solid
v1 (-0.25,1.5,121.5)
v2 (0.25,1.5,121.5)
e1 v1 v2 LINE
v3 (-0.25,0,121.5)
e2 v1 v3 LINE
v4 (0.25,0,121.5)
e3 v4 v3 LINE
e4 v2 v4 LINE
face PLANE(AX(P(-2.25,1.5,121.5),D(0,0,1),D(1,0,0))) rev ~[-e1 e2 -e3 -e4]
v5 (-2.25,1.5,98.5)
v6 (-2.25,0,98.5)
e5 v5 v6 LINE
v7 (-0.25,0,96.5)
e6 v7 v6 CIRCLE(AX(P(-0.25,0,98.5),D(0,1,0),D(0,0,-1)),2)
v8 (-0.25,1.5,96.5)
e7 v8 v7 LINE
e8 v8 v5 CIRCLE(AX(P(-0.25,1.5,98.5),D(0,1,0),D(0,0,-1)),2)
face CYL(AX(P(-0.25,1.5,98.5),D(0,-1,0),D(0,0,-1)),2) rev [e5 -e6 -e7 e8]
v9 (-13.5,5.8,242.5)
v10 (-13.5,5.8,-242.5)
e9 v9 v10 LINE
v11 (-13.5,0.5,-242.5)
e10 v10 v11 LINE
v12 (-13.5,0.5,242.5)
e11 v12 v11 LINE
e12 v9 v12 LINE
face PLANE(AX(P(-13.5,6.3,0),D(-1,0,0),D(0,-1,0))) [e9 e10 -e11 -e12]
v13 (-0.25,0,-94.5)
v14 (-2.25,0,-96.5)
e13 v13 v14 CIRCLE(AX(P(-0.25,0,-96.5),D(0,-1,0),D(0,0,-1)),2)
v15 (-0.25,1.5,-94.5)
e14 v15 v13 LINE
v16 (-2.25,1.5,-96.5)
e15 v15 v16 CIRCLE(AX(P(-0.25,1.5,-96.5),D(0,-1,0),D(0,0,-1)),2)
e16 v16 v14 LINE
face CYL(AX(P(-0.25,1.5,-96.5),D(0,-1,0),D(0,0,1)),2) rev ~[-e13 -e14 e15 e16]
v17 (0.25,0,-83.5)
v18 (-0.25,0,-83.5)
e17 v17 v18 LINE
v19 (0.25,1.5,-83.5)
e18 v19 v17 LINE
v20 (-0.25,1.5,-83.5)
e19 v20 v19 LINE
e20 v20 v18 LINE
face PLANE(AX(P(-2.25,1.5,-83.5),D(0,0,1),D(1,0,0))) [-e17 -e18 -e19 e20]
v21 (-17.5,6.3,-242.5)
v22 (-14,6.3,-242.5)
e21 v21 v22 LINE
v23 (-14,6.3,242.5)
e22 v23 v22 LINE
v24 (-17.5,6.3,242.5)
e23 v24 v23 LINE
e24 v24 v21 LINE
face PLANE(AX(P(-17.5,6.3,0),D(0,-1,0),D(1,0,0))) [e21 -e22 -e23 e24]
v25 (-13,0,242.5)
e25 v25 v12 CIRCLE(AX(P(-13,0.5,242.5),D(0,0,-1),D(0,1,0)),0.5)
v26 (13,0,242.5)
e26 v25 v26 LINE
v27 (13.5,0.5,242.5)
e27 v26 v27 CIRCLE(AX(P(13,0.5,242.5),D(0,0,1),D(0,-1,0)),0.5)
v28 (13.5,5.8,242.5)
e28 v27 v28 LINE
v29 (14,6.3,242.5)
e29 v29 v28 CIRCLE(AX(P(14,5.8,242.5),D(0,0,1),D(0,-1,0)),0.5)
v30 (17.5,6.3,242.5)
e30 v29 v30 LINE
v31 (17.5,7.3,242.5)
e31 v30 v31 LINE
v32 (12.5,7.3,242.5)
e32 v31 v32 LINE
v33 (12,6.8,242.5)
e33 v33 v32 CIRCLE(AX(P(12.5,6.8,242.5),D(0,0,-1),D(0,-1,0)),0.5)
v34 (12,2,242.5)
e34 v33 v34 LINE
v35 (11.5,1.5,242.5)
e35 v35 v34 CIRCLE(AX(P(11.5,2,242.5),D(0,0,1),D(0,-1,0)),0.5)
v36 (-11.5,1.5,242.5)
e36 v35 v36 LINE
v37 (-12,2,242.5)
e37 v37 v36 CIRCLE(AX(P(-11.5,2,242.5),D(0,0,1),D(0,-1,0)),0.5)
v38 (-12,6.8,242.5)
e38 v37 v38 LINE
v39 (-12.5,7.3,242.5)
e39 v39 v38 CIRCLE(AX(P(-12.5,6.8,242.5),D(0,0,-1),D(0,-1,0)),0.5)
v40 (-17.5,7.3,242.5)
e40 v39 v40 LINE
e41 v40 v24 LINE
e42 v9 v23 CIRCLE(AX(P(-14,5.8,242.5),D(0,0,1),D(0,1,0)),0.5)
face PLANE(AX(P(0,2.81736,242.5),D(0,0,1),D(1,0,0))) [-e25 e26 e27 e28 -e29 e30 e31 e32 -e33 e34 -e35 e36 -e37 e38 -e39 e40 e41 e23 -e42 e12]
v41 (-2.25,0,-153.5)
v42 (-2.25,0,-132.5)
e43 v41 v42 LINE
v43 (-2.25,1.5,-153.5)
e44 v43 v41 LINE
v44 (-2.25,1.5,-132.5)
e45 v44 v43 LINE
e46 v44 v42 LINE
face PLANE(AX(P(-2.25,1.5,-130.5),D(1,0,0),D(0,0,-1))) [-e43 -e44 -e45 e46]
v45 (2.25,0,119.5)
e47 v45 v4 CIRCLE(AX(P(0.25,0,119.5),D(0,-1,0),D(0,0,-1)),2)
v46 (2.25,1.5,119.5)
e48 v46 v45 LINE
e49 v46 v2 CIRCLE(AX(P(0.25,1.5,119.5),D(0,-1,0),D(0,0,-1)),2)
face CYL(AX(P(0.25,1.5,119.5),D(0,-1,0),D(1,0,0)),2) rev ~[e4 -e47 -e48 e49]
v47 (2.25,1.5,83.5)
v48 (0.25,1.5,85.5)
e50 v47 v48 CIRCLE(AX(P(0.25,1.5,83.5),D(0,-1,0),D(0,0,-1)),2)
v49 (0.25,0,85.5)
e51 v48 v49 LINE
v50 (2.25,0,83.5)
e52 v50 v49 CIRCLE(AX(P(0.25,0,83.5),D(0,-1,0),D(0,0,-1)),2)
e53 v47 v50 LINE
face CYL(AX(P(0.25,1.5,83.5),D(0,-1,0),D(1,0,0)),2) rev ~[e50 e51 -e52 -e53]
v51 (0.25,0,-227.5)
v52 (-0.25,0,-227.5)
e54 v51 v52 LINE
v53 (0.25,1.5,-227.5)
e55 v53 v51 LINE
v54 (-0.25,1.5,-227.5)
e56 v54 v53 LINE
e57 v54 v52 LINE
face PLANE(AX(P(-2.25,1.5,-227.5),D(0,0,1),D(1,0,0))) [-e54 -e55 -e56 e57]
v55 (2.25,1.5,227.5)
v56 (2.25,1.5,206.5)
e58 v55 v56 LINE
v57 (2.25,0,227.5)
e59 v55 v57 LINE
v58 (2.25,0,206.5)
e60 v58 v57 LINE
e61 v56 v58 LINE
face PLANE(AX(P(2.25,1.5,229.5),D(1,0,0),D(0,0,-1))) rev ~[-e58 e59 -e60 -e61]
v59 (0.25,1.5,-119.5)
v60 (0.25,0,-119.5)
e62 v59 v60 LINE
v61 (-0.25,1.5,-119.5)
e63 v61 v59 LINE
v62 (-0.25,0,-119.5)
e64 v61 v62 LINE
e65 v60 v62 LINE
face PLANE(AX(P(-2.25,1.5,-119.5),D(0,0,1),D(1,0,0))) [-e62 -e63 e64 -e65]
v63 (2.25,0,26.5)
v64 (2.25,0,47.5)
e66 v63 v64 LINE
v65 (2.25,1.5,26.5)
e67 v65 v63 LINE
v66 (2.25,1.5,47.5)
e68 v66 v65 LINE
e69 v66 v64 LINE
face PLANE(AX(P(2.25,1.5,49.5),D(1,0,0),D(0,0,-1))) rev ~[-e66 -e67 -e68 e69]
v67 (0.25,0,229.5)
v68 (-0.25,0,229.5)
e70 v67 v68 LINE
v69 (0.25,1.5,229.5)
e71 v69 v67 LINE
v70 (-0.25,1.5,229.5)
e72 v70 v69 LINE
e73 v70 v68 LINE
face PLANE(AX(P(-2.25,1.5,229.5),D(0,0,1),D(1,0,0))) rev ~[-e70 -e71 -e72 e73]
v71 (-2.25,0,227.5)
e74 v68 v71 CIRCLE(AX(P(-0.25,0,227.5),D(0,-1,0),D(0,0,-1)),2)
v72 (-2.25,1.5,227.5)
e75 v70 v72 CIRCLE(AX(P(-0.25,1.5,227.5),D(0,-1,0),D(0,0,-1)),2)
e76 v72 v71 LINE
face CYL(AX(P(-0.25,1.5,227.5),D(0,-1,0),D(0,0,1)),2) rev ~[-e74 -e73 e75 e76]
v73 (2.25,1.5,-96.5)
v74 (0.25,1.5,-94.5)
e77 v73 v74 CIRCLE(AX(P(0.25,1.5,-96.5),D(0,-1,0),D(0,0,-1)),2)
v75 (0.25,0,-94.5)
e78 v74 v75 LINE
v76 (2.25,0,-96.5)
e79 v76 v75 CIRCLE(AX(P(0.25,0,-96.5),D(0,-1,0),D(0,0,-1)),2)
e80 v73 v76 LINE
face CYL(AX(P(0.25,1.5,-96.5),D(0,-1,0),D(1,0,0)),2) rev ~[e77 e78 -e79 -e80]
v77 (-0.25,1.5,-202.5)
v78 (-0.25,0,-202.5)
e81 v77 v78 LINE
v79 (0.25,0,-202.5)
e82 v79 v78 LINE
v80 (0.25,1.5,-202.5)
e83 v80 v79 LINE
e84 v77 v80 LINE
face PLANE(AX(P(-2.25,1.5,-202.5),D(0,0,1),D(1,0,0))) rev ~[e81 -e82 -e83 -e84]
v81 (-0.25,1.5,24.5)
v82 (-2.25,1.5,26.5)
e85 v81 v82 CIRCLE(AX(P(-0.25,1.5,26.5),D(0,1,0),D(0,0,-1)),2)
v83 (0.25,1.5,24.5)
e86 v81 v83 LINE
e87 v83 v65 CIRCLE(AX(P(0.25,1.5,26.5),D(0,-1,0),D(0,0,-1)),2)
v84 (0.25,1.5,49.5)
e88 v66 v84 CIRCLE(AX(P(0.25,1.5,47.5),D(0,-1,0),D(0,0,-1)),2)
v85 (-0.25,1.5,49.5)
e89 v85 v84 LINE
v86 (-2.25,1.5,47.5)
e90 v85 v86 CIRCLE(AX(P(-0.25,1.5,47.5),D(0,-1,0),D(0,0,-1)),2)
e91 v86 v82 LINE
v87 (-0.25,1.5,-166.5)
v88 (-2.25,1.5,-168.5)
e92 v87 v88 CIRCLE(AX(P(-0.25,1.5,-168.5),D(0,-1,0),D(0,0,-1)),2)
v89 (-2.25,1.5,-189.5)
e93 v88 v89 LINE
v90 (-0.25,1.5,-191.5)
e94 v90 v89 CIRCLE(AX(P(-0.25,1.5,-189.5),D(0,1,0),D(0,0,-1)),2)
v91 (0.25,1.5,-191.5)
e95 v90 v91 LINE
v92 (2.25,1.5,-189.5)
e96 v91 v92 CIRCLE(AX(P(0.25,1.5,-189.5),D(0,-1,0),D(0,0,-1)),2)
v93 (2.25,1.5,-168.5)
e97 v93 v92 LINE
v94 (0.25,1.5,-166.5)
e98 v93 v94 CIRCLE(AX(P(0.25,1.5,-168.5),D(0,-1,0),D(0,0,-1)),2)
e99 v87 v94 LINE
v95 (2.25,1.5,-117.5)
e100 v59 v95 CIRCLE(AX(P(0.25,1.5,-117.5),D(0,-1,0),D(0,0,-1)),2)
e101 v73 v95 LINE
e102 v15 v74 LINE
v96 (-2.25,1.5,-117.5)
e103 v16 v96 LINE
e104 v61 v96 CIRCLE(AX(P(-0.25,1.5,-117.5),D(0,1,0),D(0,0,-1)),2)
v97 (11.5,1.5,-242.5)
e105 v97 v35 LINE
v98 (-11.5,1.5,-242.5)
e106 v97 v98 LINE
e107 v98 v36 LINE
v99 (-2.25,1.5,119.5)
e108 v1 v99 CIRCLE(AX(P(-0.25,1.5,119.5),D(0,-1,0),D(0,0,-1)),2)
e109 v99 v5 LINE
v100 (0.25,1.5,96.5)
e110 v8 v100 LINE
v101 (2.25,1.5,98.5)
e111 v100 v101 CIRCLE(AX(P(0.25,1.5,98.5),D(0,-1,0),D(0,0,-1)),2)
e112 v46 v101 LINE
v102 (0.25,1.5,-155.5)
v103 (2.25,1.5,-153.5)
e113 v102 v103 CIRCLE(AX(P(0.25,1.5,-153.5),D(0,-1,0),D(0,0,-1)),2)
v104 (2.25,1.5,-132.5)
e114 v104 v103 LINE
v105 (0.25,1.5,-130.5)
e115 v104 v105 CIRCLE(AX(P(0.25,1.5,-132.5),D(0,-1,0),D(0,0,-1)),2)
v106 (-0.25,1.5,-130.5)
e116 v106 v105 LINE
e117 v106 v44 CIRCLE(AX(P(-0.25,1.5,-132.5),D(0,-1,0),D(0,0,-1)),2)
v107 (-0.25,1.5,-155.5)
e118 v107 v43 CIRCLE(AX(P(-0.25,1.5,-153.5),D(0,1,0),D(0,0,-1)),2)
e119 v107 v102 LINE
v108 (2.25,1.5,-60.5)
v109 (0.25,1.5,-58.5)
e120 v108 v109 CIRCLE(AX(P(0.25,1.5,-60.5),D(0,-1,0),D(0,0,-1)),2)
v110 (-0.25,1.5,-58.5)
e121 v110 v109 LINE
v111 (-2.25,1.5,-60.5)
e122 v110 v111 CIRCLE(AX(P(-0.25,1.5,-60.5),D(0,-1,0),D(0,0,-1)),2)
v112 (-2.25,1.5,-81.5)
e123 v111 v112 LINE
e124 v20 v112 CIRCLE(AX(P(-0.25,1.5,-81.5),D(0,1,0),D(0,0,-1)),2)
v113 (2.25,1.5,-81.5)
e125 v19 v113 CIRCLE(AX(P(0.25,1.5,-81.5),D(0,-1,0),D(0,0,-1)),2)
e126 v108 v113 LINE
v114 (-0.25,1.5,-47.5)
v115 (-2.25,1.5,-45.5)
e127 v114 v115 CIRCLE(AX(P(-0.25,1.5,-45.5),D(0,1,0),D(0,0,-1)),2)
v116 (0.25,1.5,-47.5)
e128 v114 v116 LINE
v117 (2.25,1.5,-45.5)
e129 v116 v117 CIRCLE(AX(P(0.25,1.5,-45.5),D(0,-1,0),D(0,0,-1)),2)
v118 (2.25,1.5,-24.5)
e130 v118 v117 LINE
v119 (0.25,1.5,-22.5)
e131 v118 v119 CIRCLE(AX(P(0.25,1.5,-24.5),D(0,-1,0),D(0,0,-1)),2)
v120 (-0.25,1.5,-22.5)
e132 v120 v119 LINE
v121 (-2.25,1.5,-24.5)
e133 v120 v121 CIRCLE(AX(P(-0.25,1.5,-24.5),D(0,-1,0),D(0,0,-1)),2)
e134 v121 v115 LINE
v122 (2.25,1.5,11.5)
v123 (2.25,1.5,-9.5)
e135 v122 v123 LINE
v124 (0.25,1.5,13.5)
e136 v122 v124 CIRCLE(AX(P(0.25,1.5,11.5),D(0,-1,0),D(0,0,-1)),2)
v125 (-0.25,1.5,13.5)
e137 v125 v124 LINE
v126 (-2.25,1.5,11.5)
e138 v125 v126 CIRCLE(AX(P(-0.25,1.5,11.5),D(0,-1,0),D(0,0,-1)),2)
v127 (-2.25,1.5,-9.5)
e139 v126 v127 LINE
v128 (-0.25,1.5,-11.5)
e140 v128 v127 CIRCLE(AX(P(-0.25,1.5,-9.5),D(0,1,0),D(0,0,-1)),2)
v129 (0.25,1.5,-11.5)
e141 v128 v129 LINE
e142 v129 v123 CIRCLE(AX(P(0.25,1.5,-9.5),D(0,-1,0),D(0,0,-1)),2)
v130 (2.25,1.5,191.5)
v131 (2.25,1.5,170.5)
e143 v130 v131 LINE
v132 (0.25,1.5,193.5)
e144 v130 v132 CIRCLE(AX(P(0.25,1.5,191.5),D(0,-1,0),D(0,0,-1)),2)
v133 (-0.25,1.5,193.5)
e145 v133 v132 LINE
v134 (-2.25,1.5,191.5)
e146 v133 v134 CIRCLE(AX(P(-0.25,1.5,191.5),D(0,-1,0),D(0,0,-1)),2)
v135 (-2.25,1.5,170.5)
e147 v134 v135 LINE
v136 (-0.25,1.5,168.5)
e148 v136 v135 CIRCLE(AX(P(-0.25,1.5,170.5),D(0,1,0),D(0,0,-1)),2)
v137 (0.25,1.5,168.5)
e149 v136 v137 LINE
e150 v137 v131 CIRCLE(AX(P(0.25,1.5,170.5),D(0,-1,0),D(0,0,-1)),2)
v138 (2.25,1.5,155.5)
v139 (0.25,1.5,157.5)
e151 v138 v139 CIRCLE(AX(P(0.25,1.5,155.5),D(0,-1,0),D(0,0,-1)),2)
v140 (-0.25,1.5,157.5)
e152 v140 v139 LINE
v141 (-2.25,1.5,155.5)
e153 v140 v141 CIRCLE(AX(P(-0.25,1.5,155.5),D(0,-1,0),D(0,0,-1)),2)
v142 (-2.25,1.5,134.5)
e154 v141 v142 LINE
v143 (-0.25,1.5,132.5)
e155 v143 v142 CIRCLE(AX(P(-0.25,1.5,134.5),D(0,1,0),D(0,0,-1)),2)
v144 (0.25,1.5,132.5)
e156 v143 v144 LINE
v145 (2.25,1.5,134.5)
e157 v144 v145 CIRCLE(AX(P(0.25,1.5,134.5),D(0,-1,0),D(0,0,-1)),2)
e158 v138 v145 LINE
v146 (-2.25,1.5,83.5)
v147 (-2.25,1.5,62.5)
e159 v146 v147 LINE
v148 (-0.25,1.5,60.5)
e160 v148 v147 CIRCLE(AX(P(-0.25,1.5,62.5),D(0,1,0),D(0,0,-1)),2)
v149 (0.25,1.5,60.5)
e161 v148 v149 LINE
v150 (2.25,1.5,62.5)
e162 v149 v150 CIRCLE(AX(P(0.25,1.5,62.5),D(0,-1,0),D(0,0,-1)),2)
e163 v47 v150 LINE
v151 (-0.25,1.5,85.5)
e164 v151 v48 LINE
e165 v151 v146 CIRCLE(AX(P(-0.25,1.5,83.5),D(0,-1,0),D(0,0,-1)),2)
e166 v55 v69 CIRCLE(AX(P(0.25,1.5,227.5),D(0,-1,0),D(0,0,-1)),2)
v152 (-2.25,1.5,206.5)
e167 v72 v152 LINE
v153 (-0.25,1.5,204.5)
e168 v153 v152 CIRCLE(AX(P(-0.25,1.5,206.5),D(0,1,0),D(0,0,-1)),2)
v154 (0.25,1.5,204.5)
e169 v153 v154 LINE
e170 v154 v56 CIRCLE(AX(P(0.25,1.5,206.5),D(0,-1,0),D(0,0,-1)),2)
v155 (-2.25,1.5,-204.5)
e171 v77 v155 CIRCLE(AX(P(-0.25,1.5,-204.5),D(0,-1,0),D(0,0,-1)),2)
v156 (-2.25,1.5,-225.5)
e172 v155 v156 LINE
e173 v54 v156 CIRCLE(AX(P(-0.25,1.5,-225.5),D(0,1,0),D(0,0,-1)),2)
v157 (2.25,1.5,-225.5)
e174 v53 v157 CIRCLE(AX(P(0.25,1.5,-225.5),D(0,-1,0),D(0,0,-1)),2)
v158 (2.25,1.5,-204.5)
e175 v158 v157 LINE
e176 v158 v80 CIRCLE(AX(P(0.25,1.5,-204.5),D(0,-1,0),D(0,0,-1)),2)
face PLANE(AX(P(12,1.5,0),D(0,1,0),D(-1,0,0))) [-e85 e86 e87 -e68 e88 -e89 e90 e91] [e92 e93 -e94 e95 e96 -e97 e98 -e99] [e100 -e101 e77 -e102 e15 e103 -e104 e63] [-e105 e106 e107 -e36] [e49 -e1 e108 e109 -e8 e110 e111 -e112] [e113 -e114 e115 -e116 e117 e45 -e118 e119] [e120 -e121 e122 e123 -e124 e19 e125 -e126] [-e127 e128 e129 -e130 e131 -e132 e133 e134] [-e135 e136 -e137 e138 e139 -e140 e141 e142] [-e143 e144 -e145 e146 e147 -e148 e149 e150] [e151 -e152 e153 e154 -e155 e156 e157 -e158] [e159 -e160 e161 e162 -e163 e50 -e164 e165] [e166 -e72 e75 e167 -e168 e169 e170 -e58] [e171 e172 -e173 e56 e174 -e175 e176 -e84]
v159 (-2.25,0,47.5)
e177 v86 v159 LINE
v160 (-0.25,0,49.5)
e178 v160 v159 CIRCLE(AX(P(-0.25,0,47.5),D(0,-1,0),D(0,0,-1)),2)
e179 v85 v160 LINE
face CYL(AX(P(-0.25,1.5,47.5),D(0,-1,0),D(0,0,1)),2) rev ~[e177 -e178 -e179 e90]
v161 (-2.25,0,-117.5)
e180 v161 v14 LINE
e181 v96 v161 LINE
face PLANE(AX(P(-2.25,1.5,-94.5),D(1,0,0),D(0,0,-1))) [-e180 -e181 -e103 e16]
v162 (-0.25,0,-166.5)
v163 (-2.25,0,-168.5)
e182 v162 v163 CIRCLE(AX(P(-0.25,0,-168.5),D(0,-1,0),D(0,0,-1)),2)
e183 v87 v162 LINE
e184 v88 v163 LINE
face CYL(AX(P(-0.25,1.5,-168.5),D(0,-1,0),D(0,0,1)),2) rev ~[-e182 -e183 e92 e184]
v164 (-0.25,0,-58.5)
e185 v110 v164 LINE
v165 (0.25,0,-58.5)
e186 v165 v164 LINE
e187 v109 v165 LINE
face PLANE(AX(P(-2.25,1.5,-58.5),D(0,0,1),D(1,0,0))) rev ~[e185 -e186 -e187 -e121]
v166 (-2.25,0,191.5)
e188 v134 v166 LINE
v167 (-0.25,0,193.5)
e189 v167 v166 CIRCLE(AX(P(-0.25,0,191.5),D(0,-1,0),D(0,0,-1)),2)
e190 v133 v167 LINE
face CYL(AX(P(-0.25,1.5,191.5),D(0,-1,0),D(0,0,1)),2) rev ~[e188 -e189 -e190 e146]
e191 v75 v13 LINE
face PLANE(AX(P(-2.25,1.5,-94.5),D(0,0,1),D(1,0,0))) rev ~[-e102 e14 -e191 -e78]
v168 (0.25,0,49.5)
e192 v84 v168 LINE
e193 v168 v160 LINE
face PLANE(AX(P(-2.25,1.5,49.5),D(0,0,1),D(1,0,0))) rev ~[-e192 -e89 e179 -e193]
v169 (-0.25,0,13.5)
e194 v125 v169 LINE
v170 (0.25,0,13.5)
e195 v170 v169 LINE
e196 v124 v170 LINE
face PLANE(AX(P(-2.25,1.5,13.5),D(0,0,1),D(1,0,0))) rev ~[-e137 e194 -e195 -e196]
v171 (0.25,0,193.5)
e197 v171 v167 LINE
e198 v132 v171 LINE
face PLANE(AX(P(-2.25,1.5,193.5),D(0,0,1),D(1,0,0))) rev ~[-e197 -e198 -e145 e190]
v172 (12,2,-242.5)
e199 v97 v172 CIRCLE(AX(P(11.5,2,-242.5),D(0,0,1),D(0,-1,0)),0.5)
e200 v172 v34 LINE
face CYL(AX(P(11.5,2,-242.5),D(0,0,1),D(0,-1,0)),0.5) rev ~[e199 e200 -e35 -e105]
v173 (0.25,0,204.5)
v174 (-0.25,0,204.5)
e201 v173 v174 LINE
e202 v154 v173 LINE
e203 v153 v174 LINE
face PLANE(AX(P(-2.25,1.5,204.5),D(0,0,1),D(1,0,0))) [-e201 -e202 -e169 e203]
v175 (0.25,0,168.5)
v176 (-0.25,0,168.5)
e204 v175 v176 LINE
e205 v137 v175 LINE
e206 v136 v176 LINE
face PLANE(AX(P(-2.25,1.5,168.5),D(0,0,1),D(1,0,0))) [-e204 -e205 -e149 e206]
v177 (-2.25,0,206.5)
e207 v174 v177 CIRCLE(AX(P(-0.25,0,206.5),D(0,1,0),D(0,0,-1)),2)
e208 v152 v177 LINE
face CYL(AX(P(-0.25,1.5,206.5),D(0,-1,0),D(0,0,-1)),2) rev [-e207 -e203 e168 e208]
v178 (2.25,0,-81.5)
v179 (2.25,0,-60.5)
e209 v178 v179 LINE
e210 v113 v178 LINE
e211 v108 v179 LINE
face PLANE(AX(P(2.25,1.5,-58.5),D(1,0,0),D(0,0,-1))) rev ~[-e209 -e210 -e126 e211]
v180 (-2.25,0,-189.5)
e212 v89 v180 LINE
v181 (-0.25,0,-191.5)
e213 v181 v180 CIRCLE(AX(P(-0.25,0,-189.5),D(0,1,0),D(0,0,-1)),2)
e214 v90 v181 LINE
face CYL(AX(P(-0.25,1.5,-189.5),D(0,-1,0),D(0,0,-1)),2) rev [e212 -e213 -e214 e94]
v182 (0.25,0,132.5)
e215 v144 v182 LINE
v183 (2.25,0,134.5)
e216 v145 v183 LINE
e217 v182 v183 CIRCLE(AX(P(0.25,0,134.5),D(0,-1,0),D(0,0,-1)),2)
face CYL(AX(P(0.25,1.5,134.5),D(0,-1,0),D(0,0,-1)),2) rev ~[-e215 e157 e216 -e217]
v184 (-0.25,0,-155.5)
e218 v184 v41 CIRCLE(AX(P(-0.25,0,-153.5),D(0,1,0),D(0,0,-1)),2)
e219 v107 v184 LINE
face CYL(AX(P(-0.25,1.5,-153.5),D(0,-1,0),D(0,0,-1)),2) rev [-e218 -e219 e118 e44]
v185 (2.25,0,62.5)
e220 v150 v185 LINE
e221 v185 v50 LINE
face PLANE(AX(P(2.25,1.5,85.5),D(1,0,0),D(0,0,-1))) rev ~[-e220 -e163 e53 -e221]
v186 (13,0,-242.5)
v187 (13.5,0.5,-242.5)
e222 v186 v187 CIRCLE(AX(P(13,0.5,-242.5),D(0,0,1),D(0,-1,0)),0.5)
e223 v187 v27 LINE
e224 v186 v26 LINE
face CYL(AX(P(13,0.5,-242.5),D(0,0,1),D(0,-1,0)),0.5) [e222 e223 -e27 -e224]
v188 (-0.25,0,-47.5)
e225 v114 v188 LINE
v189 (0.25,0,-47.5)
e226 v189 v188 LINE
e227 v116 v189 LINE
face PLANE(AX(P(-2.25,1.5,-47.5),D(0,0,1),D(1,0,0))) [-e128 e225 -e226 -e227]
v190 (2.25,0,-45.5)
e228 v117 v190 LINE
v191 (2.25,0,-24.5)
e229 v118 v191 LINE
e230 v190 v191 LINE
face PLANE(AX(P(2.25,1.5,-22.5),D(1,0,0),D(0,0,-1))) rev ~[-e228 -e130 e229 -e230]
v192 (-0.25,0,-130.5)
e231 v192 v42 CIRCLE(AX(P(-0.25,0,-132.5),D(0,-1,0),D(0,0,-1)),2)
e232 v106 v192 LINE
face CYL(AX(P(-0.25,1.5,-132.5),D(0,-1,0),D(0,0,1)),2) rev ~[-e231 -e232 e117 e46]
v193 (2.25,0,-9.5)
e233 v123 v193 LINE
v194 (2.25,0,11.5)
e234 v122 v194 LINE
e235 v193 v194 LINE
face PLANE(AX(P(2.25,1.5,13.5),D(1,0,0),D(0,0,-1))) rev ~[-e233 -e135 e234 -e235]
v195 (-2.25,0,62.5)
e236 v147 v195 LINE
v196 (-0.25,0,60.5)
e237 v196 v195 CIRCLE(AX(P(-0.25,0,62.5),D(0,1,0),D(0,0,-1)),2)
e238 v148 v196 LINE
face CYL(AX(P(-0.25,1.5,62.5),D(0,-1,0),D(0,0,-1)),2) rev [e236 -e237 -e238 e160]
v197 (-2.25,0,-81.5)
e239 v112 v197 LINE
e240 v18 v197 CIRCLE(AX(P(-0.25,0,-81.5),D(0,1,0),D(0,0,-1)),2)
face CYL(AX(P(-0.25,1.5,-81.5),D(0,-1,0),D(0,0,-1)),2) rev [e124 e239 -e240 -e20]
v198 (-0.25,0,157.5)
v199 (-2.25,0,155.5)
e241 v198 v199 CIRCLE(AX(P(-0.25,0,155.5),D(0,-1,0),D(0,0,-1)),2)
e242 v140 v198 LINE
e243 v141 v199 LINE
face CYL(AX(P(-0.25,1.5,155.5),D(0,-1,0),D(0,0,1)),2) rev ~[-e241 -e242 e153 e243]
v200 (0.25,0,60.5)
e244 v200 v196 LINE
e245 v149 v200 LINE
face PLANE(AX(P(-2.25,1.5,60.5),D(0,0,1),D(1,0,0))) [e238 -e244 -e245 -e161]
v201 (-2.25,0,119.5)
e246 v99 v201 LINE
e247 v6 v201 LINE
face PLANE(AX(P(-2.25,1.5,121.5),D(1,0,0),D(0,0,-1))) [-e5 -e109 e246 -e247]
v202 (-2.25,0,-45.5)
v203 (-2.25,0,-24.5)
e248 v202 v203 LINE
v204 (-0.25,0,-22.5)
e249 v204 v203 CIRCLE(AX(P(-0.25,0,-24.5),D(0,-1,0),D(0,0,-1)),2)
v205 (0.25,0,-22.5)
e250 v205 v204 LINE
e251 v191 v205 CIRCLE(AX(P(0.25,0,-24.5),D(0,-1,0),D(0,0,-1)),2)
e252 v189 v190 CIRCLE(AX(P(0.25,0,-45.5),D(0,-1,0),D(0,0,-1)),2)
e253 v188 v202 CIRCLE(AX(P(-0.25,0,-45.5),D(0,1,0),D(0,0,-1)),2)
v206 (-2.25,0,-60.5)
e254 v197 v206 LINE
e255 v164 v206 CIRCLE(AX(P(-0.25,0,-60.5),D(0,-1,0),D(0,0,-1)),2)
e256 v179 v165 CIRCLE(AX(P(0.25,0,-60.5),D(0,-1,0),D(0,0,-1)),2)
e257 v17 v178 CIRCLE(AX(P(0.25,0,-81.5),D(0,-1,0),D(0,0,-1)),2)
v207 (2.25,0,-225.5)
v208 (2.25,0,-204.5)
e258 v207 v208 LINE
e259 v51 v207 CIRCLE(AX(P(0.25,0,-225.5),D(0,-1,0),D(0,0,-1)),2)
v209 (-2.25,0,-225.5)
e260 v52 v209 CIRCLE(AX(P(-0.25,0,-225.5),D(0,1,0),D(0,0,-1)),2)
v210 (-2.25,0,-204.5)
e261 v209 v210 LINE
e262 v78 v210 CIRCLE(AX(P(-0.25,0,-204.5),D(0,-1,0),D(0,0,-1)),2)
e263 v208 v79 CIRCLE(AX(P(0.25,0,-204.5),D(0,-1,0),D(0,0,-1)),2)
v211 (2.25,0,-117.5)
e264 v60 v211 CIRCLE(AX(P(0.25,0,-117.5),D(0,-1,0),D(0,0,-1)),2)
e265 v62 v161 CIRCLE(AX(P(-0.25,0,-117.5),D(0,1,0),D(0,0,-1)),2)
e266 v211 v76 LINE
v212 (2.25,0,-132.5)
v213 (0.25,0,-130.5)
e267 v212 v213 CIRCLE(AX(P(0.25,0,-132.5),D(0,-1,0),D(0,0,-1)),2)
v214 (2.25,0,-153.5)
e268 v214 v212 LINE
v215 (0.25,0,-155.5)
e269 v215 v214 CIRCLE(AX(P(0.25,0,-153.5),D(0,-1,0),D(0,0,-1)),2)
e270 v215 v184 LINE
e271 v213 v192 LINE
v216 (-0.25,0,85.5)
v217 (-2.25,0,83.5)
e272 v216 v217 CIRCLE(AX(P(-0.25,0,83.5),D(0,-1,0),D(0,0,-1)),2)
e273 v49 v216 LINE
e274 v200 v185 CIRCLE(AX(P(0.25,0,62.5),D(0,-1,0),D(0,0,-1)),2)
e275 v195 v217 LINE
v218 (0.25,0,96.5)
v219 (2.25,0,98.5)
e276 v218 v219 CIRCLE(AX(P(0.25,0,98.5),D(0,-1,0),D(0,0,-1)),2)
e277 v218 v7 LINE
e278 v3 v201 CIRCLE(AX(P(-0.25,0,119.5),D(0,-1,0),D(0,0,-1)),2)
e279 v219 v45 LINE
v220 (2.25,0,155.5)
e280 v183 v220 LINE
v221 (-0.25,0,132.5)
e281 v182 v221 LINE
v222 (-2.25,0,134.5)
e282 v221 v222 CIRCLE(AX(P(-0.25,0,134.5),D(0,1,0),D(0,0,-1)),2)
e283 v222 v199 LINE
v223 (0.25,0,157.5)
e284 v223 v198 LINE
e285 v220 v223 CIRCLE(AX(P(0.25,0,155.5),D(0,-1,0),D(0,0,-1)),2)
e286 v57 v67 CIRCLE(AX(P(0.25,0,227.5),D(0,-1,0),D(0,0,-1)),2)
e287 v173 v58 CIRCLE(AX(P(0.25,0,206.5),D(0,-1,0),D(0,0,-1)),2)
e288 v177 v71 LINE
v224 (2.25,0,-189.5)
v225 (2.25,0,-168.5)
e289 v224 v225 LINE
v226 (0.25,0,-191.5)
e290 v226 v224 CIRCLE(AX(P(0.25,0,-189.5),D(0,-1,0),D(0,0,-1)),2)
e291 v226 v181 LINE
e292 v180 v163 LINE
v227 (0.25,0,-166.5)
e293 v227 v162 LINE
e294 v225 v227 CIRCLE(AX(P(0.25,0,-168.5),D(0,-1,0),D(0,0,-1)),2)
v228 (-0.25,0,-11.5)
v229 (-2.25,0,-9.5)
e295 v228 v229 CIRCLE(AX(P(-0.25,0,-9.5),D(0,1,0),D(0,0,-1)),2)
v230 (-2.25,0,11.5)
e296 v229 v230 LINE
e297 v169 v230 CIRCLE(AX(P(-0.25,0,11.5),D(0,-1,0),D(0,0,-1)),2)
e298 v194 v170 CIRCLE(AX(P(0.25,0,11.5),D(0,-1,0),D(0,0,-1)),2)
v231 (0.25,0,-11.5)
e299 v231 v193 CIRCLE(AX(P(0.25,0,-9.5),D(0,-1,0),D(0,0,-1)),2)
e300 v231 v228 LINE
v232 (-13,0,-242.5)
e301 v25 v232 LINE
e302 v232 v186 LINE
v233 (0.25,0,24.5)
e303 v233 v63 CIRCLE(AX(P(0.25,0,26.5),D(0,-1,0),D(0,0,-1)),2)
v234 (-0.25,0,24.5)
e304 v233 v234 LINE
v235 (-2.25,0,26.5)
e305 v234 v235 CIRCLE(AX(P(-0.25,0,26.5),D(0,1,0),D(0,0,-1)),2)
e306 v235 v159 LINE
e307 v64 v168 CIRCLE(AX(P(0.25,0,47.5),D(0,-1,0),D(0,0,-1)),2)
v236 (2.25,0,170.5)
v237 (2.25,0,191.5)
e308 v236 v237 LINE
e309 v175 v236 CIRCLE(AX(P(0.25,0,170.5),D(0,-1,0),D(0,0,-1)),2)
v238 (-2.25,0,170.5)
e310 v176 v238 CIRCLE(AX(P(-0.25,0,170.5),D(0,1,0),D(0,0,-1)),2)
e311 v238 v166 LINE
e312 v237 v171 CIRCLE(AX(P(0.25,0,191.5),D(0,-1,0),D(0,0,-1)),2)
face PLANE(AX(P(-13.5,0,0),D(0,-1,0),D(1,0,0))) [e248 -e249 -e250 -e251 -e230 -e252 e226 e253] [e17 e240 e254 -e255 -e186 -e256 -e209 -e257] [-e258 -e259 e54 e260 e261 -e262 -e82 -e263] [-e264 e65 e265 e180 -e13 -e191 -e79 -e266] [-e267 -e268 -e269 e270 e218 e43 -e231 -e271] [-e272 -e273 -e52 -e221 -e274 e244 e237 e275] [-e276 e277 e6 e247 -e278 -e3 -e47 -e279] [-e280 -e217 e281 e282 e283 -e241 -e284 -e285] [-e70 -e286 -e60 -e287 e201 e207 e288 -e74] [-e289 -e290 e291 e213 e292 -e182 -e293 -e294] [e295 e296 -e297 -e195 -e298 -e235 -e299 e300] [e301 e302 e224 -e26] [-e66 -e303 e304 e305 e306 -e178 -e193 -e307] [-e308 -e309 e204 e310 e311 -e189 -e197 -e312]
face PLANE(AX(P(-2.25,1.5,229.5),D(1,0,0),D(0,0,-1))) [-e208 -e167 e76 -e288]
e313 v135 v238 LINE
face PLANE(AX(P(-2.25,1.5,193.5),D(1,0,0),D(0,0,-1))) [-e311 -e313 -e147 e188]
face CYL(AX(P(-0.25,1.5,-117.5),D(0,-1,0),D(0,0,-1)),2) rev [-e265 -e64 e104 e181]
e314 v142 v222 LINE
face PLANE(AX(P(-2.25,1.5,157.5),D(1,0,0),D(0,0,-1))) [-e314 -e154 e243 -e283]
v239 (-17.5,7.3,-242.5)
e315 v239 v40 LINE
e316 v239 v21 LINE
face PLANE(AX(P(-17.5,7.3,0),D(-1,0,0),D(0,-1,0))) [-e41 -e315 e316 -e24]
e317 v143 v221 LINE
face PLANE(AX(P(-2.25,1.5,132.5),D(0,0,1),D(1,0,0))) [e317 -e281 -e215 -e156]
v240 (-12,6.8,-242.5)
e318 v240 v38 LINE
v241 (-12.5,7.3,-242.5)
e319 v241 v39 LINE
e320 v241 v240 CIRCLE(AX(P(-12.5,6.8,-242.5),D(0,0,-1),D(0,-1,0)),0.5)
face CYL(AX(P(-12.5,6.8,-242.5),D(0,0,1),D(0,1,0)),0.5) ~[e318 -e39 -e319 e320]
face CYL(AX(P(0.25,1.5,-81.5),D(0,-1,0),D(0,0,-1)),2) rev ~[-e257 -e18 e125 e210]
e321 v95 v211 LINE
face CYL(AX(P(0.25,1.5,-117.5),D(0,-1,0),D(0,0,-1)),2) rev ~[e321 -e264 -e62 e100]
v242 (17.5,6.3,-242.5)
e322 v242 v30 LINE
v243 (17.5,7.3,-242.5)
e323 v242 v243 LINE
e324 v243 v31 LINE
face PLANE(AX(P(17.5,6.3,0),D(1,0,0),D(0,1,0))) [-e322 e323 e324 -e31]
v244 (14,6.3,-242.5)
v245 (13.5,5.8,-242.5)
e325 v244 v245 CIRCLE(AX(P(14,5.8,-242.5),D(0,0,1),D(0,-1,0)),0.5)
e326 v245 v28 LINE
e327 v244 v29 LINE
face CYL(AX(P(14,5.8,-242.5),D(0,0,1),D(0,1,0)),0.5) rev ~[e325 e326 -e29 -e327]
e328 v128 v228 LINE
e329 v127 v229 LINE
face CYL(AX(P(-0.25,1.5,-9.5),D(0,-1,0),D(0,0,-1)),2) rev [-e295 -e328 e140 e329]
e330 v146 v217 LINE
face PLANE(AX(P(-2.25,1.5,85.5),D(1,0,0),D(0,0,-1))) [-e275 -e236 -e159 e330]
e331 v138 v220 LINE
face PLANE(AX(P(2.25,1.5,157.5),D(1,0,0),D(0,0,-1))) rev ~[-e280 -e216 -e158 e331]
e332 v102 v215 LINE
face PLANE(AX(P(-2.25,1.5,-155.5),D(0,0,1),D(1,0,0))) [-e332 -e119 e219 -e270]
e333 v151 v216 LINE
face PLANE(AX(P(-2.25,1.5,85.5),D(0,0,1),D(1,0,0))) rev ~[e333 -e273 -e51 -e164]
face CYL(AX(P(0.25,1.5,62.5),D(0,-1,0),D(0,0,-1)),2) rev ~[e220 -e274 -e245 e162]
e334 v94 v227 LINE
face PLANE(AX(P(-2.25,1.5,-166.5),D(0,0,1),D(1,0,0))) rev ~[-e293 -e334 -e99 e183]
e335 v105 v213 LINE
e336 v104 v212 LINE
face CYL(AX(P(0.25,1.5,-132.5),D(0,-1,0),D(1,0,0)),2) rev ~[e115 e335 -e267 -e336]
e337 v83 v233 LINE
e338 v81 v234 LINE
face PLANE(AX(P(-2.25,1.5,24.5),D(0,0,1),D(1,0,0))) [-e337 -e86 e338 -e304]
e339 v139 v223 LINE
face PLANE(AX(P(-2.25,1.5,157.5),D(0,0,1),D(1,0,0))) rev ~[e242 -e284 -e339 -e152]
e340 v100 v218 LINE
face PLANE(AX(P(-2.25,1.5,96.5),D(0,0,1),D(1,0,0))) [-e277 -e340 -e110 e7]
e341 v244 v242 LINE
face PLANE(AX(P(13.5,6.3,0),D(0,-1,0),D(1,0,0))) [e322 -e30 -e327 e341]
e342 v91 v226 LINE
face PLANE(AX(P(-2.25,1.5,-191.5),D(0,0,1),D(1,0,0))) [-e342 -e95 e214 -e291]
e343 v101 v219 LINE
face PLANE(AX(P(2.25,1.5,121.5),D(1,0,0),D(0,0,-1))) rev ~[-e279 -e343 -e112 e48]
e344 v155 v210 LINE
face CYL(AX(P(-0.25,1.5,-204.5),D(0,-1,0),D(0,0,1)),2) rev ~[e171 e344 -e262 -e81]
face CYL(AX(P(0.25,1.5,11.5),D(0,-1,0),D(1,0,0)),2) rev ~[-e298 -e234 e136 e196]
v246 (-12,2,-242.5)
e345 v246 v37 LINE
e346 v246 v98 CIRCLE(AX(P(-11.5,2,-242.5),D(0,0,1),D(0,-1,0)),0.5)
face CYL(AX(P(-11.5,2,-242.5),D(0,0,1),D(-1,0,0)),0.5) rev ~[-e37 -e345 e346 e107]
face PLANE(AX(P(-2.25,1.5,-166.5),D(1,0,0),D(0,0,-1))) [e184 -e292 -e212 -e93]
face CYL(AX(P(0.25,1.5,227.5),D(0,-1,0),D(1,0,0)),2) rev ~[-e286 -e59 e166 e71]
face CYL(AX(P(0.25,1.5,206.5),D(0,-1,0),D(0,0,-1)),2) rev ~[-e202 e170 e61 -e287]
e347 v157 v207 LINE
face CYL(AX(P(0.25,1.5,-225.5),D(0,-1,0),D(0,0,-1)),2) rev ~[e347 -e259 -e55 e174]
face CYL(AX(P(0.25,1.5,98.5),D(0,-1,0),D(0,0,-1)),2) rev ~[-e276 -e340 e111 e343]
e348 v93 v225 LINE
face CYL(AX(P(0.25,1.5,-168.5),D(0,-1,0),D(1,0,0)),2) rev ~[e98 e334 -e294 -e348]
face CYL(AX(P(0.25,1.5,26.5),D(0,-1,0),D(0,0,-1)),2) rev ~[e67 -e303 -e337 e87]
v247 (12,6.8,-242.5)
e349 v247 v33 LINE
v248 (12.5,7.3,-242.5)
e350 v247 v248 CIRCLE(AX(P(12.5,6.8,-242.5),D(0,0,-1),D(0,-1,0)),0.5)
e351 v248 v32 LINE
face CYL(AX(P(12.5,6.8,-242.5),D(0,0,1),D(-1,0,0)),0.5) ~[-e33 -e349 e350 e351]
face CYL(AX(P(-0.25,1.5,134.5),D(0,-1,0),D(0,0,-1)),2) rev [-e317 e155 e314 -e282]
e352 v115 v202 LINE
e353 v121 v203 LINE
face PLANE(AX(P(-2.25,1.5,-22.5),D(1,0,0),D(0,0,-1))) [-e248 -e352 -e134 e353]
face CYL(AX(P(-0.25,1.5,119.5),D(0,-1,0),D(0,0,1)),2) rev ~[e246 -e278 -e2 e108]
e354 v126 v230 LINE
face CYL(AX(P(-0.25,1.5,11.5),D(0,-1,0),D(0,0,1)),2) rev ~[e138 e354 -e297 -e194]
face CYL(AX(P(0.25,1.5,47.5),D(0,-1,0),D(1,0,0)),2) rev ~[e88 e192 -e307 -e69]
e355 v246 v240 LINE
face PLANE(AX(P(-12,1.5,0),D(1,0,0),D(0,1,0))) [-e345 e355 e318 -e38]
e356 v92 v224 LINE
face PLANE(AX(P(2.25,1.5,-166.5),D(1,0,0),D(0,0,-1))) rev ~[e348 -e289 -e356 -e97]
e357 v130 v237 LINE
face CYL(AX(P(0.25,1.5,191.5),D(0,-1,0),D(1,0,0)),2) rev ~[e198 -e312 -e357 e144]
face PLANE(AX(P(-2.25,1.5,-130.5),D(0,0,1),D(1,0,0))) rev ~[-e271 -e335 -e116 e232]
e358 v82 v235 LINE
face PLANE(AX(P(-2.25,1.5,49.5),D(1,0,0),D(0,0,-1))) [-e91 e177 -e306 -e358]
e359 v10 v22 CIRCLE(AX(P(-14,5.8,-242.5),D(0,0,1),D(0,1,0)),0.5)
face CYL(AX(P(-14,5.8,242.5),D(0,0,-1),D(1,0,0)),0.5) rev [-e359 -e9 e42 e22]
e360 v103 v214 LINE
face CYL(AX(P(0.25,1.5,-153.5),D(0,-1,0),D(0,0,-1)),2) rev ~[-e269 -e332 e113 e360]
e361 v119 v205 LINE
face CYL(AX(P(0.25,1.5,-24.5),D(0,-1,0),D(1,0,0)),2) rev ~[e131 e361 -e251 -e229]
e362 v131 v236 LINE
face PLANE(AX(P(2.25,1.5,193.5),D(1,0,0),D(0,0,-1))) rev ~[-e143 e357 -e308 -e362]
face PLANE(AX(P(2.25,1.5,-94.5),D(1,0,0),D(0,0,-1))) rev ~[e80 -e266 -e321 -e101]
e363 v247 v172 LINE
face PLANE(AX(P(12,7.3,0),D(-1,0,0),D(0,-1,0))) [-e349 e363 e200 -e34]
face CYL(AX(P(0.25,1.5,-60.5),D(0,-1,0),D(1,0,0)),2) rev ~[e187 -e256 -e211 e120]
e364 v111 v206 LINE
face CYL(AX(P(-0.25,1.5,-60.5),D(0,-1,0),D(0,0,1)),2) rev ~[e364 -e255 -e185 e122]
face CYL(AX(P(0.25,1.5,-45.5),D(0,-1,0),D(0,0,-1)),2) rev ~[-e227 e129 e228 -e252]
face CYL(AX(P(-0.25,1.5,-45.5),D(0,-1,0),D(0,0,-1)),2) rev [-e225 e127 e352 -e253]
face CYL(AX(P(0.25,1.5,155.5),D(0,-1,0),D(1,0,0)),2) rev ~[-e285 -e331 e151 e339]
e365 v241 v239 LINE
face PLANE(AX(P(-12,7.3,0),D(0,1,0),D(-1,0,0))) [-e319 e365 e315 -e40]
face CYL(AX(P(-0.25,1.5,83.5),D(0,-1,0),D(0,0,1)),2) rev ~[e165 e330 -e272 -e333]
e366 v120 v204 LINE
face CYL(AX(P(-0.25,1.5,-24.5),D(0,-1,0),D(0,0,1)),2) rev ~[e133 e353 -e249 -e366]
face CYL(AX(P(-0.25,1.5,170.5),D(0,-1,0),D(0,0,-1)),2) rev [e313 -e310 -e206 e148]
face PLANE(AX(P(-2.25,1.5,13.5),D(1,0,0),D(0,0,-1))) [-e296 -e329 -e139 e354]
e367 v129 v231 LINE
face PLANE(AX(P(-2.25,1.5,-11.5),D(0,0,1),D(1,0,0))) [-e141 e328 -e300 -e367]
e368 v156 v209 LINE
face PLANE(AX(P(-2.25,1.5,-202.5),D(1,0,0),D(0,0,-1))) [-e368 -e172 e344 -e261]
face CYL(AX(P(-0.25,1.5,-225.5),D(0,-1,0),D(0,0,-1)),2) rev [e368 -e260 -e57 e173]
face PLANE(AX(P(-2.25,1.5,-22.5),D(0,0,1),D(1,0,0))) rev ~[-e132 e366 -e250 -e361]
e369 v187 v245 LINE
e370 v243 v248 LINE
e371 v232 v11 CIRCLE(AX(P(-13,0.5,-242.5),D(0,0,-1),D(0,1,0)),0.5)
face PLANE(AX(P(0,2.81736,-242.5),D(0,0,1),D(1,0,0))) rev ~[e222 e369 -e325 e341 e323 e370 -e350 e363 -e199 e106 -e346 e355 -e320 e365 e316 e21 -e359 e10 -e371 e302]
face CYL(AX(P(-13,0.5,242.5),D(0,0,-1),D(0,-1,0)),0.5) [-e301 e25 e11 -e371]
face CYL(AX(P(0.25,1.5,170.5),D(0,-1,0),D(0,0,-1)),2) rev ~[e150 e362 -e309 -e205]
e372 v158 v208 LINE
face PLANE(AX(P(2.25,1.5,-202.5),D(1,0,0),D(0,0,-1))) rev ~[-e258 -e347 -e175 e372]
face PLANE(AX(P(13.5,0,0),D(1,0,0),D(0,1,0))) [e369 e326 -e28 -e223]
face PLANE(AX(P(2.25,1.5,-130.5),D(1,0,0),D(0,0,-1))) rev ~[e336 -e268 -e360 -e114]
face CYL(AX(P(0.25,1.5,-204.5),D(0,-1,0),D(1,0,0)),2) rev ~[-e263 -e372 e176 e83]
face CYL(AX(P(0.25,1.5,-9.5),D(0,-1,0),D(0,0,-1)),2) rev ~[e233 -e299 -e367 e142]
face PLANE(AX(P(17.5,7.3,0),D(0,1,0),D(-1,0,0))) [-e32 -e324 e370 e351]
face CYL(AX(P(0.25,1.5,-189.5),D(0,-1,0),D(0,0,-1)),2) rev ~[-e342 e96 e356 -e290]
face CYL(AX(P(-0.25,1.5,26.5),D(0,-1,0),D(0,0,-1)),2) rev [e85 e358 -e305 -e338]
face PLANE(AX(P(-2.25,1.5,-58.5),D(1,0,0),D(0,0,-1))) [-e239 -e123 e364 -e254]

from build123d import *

# Parameters (mm, degrees)
BOSS_EXTRUDE1_DEPTH    = 242.5
FILLET1_R              = 0.5
SKETCH2_W              = 4.5
SKETCH2_H              = 25
CUT_EXTRUDE1_DEPTH     = 244.199794408
FILLET2_R              = 2
LPATTERN1_COUNT        = 13
LPATTERN1_PITCH        = 36
FILLET2_OF_LPATTERN1_R = 2


with BuildPart() as part:
    # Sketch1 → Boss-Extrude1 (new, symmetric)
    with BuildSketch(Plane.XY):
        Polygon((-13.5, 0), (13.5, 0), (13.5, 6.3), (17.5, 6.3), (17.5, 7.3), (12, 7.3), (12, 1.5), (-12, 1.5), (-12, 7.3), (-17.5, 7.3), (-17.5, 6.3), (-13.5, 6.3), align=None)
    extrude(amount=BOSS_EXTRUDE1_DEPTH, both=True)

    # Fillet1
    fillet1_edges = [part.edges().sort_by_distance(p)[0] for p in [
        (-13.5, 6.3, 0),
        (-12, 7.3, 0),
        (-12, 1.5, 0),
        (12, 1.5, 0),
        (12, 7.3, 0),
        (13.5, 6.3, 0),
        (13.5, 0, 0),
        (-13.5, 0, 0),
    ]]
    fillet(fillet1_edges, radius=FILLET1_R)

    # Sketch2 → Cut-Extrude1 (cut, through all)
    with BuildSketch(Plane(origin=(0, 1.5, 0), x_dir=(1, 0, 0), z_dir=(0, 1, 0))):
        with Locations((0, 215)):
            Rectangle(SKETCH2_W, SKETCH2_H)
    cut_extrude1 = extrude(amount=-CUT_EXTRUDE1_DEPTH, mode=Mode.SUBTRACT)

    # Fillet2
    fillet2_edges = [part.edges().sort_by_distance(p)[0] for p in [
        (2.25, 0.75, -227.5),
        (2.25, 0.75, -202.5),
        (-2.25, 0.75, -202.5),
        (-2.25, 0.75, -227.5),
    ]]
    fillet(fillet2_edges, radius=FILLET2_R)

    # LPattern1: Cut-Extrude1 ×13
    with Locations(*[(0, 0, i * LPATTERN1_PITCH) for i in range(1, LPATTERN1_COUNT)]):
        add(cut_extrude1, mode=Mode.SUBTRACT)

    # Fillet2 of LPattern1
    fillet2_of_lpattern1_edges = [part.edges().sort_by_distance(p)[0] for p in [
        (2.25, 0.75, -191.5),
        (2.25, 0.75, -166.5),
        (-2.25, 0.75, -166.5),
        (-2.25, 0.75, -191.5),
        (2.25, 0.75, -155.5),
        (2.25, 0.75, -130.5),
        (-2.25, 0.75, -130.5),
        (-2.25, 0.75, -155.5),
        (2.25, 0.75, -119.5),
        (2.25, 0.75, -94.5),
        (-2.25, 0.75, -94.5),
        (-2.25, 0.75, -119.5),
        (2.25, 0.75, -83.5),
        (2.25, 0.75, -58.5),
        (-2.25, 0.75, -58.5),
        (-2.25, 0.75, -83.5),
        (2.25, 0.75, -47.5),
        (2.25, 0.75, -22.5),
        (-2.25, 0.75, -22.5),
        (-2.25, 0.75, -47.5),
        (2.25, 0.75, -11.5),
        (2.25, 0.75, 13.5),
        (-2.25, 0.75, 13.5),
        (-2.25, 0.75, -11.5),
        (2.25, 0.75, 24.5),
        (2.25, 0.75, 49.5),
        (-2.25, 0.75, 49.5),
        (-2.25, 0.75, 24.5),
        (2.25, 0.75, 60.5),
        (2.25, 0.75, 85.5),
        (-2.25, 0.75, 85.5),
        (-2.25, 0.75, 60.5),
        (2.25, 0.75, 96.5),
        (2.25, 0.75, 121.5),
        (-2.25, 0.75, 121.5),
        (-2.25, 0.75, 96.5),
        (2.25, 0.75, 132.5),
        (2.25, 0.75, 157.5),
        (-2.25, 0.75, 157.5),
        (-2.25, 0.75, 132.5),
        (2.25, 0.75, 168.5),
        (2.25, 0.75, 193.5),
        (-2.25, 0.75, 193.5),
        (-2.25, 0.75, 168.5),
        (2.25, 0.75, 204.5),
        (2.25, 0.75, 229.5),
        (-2.25, 0.75, 229.5),
        (-2.25, 0.75, 204.5),
    ]]
    fillet(fillet2_of_lpattern1_edges, radius=FILLET2_OF_LPATTERN1_R)


solid = part.part
